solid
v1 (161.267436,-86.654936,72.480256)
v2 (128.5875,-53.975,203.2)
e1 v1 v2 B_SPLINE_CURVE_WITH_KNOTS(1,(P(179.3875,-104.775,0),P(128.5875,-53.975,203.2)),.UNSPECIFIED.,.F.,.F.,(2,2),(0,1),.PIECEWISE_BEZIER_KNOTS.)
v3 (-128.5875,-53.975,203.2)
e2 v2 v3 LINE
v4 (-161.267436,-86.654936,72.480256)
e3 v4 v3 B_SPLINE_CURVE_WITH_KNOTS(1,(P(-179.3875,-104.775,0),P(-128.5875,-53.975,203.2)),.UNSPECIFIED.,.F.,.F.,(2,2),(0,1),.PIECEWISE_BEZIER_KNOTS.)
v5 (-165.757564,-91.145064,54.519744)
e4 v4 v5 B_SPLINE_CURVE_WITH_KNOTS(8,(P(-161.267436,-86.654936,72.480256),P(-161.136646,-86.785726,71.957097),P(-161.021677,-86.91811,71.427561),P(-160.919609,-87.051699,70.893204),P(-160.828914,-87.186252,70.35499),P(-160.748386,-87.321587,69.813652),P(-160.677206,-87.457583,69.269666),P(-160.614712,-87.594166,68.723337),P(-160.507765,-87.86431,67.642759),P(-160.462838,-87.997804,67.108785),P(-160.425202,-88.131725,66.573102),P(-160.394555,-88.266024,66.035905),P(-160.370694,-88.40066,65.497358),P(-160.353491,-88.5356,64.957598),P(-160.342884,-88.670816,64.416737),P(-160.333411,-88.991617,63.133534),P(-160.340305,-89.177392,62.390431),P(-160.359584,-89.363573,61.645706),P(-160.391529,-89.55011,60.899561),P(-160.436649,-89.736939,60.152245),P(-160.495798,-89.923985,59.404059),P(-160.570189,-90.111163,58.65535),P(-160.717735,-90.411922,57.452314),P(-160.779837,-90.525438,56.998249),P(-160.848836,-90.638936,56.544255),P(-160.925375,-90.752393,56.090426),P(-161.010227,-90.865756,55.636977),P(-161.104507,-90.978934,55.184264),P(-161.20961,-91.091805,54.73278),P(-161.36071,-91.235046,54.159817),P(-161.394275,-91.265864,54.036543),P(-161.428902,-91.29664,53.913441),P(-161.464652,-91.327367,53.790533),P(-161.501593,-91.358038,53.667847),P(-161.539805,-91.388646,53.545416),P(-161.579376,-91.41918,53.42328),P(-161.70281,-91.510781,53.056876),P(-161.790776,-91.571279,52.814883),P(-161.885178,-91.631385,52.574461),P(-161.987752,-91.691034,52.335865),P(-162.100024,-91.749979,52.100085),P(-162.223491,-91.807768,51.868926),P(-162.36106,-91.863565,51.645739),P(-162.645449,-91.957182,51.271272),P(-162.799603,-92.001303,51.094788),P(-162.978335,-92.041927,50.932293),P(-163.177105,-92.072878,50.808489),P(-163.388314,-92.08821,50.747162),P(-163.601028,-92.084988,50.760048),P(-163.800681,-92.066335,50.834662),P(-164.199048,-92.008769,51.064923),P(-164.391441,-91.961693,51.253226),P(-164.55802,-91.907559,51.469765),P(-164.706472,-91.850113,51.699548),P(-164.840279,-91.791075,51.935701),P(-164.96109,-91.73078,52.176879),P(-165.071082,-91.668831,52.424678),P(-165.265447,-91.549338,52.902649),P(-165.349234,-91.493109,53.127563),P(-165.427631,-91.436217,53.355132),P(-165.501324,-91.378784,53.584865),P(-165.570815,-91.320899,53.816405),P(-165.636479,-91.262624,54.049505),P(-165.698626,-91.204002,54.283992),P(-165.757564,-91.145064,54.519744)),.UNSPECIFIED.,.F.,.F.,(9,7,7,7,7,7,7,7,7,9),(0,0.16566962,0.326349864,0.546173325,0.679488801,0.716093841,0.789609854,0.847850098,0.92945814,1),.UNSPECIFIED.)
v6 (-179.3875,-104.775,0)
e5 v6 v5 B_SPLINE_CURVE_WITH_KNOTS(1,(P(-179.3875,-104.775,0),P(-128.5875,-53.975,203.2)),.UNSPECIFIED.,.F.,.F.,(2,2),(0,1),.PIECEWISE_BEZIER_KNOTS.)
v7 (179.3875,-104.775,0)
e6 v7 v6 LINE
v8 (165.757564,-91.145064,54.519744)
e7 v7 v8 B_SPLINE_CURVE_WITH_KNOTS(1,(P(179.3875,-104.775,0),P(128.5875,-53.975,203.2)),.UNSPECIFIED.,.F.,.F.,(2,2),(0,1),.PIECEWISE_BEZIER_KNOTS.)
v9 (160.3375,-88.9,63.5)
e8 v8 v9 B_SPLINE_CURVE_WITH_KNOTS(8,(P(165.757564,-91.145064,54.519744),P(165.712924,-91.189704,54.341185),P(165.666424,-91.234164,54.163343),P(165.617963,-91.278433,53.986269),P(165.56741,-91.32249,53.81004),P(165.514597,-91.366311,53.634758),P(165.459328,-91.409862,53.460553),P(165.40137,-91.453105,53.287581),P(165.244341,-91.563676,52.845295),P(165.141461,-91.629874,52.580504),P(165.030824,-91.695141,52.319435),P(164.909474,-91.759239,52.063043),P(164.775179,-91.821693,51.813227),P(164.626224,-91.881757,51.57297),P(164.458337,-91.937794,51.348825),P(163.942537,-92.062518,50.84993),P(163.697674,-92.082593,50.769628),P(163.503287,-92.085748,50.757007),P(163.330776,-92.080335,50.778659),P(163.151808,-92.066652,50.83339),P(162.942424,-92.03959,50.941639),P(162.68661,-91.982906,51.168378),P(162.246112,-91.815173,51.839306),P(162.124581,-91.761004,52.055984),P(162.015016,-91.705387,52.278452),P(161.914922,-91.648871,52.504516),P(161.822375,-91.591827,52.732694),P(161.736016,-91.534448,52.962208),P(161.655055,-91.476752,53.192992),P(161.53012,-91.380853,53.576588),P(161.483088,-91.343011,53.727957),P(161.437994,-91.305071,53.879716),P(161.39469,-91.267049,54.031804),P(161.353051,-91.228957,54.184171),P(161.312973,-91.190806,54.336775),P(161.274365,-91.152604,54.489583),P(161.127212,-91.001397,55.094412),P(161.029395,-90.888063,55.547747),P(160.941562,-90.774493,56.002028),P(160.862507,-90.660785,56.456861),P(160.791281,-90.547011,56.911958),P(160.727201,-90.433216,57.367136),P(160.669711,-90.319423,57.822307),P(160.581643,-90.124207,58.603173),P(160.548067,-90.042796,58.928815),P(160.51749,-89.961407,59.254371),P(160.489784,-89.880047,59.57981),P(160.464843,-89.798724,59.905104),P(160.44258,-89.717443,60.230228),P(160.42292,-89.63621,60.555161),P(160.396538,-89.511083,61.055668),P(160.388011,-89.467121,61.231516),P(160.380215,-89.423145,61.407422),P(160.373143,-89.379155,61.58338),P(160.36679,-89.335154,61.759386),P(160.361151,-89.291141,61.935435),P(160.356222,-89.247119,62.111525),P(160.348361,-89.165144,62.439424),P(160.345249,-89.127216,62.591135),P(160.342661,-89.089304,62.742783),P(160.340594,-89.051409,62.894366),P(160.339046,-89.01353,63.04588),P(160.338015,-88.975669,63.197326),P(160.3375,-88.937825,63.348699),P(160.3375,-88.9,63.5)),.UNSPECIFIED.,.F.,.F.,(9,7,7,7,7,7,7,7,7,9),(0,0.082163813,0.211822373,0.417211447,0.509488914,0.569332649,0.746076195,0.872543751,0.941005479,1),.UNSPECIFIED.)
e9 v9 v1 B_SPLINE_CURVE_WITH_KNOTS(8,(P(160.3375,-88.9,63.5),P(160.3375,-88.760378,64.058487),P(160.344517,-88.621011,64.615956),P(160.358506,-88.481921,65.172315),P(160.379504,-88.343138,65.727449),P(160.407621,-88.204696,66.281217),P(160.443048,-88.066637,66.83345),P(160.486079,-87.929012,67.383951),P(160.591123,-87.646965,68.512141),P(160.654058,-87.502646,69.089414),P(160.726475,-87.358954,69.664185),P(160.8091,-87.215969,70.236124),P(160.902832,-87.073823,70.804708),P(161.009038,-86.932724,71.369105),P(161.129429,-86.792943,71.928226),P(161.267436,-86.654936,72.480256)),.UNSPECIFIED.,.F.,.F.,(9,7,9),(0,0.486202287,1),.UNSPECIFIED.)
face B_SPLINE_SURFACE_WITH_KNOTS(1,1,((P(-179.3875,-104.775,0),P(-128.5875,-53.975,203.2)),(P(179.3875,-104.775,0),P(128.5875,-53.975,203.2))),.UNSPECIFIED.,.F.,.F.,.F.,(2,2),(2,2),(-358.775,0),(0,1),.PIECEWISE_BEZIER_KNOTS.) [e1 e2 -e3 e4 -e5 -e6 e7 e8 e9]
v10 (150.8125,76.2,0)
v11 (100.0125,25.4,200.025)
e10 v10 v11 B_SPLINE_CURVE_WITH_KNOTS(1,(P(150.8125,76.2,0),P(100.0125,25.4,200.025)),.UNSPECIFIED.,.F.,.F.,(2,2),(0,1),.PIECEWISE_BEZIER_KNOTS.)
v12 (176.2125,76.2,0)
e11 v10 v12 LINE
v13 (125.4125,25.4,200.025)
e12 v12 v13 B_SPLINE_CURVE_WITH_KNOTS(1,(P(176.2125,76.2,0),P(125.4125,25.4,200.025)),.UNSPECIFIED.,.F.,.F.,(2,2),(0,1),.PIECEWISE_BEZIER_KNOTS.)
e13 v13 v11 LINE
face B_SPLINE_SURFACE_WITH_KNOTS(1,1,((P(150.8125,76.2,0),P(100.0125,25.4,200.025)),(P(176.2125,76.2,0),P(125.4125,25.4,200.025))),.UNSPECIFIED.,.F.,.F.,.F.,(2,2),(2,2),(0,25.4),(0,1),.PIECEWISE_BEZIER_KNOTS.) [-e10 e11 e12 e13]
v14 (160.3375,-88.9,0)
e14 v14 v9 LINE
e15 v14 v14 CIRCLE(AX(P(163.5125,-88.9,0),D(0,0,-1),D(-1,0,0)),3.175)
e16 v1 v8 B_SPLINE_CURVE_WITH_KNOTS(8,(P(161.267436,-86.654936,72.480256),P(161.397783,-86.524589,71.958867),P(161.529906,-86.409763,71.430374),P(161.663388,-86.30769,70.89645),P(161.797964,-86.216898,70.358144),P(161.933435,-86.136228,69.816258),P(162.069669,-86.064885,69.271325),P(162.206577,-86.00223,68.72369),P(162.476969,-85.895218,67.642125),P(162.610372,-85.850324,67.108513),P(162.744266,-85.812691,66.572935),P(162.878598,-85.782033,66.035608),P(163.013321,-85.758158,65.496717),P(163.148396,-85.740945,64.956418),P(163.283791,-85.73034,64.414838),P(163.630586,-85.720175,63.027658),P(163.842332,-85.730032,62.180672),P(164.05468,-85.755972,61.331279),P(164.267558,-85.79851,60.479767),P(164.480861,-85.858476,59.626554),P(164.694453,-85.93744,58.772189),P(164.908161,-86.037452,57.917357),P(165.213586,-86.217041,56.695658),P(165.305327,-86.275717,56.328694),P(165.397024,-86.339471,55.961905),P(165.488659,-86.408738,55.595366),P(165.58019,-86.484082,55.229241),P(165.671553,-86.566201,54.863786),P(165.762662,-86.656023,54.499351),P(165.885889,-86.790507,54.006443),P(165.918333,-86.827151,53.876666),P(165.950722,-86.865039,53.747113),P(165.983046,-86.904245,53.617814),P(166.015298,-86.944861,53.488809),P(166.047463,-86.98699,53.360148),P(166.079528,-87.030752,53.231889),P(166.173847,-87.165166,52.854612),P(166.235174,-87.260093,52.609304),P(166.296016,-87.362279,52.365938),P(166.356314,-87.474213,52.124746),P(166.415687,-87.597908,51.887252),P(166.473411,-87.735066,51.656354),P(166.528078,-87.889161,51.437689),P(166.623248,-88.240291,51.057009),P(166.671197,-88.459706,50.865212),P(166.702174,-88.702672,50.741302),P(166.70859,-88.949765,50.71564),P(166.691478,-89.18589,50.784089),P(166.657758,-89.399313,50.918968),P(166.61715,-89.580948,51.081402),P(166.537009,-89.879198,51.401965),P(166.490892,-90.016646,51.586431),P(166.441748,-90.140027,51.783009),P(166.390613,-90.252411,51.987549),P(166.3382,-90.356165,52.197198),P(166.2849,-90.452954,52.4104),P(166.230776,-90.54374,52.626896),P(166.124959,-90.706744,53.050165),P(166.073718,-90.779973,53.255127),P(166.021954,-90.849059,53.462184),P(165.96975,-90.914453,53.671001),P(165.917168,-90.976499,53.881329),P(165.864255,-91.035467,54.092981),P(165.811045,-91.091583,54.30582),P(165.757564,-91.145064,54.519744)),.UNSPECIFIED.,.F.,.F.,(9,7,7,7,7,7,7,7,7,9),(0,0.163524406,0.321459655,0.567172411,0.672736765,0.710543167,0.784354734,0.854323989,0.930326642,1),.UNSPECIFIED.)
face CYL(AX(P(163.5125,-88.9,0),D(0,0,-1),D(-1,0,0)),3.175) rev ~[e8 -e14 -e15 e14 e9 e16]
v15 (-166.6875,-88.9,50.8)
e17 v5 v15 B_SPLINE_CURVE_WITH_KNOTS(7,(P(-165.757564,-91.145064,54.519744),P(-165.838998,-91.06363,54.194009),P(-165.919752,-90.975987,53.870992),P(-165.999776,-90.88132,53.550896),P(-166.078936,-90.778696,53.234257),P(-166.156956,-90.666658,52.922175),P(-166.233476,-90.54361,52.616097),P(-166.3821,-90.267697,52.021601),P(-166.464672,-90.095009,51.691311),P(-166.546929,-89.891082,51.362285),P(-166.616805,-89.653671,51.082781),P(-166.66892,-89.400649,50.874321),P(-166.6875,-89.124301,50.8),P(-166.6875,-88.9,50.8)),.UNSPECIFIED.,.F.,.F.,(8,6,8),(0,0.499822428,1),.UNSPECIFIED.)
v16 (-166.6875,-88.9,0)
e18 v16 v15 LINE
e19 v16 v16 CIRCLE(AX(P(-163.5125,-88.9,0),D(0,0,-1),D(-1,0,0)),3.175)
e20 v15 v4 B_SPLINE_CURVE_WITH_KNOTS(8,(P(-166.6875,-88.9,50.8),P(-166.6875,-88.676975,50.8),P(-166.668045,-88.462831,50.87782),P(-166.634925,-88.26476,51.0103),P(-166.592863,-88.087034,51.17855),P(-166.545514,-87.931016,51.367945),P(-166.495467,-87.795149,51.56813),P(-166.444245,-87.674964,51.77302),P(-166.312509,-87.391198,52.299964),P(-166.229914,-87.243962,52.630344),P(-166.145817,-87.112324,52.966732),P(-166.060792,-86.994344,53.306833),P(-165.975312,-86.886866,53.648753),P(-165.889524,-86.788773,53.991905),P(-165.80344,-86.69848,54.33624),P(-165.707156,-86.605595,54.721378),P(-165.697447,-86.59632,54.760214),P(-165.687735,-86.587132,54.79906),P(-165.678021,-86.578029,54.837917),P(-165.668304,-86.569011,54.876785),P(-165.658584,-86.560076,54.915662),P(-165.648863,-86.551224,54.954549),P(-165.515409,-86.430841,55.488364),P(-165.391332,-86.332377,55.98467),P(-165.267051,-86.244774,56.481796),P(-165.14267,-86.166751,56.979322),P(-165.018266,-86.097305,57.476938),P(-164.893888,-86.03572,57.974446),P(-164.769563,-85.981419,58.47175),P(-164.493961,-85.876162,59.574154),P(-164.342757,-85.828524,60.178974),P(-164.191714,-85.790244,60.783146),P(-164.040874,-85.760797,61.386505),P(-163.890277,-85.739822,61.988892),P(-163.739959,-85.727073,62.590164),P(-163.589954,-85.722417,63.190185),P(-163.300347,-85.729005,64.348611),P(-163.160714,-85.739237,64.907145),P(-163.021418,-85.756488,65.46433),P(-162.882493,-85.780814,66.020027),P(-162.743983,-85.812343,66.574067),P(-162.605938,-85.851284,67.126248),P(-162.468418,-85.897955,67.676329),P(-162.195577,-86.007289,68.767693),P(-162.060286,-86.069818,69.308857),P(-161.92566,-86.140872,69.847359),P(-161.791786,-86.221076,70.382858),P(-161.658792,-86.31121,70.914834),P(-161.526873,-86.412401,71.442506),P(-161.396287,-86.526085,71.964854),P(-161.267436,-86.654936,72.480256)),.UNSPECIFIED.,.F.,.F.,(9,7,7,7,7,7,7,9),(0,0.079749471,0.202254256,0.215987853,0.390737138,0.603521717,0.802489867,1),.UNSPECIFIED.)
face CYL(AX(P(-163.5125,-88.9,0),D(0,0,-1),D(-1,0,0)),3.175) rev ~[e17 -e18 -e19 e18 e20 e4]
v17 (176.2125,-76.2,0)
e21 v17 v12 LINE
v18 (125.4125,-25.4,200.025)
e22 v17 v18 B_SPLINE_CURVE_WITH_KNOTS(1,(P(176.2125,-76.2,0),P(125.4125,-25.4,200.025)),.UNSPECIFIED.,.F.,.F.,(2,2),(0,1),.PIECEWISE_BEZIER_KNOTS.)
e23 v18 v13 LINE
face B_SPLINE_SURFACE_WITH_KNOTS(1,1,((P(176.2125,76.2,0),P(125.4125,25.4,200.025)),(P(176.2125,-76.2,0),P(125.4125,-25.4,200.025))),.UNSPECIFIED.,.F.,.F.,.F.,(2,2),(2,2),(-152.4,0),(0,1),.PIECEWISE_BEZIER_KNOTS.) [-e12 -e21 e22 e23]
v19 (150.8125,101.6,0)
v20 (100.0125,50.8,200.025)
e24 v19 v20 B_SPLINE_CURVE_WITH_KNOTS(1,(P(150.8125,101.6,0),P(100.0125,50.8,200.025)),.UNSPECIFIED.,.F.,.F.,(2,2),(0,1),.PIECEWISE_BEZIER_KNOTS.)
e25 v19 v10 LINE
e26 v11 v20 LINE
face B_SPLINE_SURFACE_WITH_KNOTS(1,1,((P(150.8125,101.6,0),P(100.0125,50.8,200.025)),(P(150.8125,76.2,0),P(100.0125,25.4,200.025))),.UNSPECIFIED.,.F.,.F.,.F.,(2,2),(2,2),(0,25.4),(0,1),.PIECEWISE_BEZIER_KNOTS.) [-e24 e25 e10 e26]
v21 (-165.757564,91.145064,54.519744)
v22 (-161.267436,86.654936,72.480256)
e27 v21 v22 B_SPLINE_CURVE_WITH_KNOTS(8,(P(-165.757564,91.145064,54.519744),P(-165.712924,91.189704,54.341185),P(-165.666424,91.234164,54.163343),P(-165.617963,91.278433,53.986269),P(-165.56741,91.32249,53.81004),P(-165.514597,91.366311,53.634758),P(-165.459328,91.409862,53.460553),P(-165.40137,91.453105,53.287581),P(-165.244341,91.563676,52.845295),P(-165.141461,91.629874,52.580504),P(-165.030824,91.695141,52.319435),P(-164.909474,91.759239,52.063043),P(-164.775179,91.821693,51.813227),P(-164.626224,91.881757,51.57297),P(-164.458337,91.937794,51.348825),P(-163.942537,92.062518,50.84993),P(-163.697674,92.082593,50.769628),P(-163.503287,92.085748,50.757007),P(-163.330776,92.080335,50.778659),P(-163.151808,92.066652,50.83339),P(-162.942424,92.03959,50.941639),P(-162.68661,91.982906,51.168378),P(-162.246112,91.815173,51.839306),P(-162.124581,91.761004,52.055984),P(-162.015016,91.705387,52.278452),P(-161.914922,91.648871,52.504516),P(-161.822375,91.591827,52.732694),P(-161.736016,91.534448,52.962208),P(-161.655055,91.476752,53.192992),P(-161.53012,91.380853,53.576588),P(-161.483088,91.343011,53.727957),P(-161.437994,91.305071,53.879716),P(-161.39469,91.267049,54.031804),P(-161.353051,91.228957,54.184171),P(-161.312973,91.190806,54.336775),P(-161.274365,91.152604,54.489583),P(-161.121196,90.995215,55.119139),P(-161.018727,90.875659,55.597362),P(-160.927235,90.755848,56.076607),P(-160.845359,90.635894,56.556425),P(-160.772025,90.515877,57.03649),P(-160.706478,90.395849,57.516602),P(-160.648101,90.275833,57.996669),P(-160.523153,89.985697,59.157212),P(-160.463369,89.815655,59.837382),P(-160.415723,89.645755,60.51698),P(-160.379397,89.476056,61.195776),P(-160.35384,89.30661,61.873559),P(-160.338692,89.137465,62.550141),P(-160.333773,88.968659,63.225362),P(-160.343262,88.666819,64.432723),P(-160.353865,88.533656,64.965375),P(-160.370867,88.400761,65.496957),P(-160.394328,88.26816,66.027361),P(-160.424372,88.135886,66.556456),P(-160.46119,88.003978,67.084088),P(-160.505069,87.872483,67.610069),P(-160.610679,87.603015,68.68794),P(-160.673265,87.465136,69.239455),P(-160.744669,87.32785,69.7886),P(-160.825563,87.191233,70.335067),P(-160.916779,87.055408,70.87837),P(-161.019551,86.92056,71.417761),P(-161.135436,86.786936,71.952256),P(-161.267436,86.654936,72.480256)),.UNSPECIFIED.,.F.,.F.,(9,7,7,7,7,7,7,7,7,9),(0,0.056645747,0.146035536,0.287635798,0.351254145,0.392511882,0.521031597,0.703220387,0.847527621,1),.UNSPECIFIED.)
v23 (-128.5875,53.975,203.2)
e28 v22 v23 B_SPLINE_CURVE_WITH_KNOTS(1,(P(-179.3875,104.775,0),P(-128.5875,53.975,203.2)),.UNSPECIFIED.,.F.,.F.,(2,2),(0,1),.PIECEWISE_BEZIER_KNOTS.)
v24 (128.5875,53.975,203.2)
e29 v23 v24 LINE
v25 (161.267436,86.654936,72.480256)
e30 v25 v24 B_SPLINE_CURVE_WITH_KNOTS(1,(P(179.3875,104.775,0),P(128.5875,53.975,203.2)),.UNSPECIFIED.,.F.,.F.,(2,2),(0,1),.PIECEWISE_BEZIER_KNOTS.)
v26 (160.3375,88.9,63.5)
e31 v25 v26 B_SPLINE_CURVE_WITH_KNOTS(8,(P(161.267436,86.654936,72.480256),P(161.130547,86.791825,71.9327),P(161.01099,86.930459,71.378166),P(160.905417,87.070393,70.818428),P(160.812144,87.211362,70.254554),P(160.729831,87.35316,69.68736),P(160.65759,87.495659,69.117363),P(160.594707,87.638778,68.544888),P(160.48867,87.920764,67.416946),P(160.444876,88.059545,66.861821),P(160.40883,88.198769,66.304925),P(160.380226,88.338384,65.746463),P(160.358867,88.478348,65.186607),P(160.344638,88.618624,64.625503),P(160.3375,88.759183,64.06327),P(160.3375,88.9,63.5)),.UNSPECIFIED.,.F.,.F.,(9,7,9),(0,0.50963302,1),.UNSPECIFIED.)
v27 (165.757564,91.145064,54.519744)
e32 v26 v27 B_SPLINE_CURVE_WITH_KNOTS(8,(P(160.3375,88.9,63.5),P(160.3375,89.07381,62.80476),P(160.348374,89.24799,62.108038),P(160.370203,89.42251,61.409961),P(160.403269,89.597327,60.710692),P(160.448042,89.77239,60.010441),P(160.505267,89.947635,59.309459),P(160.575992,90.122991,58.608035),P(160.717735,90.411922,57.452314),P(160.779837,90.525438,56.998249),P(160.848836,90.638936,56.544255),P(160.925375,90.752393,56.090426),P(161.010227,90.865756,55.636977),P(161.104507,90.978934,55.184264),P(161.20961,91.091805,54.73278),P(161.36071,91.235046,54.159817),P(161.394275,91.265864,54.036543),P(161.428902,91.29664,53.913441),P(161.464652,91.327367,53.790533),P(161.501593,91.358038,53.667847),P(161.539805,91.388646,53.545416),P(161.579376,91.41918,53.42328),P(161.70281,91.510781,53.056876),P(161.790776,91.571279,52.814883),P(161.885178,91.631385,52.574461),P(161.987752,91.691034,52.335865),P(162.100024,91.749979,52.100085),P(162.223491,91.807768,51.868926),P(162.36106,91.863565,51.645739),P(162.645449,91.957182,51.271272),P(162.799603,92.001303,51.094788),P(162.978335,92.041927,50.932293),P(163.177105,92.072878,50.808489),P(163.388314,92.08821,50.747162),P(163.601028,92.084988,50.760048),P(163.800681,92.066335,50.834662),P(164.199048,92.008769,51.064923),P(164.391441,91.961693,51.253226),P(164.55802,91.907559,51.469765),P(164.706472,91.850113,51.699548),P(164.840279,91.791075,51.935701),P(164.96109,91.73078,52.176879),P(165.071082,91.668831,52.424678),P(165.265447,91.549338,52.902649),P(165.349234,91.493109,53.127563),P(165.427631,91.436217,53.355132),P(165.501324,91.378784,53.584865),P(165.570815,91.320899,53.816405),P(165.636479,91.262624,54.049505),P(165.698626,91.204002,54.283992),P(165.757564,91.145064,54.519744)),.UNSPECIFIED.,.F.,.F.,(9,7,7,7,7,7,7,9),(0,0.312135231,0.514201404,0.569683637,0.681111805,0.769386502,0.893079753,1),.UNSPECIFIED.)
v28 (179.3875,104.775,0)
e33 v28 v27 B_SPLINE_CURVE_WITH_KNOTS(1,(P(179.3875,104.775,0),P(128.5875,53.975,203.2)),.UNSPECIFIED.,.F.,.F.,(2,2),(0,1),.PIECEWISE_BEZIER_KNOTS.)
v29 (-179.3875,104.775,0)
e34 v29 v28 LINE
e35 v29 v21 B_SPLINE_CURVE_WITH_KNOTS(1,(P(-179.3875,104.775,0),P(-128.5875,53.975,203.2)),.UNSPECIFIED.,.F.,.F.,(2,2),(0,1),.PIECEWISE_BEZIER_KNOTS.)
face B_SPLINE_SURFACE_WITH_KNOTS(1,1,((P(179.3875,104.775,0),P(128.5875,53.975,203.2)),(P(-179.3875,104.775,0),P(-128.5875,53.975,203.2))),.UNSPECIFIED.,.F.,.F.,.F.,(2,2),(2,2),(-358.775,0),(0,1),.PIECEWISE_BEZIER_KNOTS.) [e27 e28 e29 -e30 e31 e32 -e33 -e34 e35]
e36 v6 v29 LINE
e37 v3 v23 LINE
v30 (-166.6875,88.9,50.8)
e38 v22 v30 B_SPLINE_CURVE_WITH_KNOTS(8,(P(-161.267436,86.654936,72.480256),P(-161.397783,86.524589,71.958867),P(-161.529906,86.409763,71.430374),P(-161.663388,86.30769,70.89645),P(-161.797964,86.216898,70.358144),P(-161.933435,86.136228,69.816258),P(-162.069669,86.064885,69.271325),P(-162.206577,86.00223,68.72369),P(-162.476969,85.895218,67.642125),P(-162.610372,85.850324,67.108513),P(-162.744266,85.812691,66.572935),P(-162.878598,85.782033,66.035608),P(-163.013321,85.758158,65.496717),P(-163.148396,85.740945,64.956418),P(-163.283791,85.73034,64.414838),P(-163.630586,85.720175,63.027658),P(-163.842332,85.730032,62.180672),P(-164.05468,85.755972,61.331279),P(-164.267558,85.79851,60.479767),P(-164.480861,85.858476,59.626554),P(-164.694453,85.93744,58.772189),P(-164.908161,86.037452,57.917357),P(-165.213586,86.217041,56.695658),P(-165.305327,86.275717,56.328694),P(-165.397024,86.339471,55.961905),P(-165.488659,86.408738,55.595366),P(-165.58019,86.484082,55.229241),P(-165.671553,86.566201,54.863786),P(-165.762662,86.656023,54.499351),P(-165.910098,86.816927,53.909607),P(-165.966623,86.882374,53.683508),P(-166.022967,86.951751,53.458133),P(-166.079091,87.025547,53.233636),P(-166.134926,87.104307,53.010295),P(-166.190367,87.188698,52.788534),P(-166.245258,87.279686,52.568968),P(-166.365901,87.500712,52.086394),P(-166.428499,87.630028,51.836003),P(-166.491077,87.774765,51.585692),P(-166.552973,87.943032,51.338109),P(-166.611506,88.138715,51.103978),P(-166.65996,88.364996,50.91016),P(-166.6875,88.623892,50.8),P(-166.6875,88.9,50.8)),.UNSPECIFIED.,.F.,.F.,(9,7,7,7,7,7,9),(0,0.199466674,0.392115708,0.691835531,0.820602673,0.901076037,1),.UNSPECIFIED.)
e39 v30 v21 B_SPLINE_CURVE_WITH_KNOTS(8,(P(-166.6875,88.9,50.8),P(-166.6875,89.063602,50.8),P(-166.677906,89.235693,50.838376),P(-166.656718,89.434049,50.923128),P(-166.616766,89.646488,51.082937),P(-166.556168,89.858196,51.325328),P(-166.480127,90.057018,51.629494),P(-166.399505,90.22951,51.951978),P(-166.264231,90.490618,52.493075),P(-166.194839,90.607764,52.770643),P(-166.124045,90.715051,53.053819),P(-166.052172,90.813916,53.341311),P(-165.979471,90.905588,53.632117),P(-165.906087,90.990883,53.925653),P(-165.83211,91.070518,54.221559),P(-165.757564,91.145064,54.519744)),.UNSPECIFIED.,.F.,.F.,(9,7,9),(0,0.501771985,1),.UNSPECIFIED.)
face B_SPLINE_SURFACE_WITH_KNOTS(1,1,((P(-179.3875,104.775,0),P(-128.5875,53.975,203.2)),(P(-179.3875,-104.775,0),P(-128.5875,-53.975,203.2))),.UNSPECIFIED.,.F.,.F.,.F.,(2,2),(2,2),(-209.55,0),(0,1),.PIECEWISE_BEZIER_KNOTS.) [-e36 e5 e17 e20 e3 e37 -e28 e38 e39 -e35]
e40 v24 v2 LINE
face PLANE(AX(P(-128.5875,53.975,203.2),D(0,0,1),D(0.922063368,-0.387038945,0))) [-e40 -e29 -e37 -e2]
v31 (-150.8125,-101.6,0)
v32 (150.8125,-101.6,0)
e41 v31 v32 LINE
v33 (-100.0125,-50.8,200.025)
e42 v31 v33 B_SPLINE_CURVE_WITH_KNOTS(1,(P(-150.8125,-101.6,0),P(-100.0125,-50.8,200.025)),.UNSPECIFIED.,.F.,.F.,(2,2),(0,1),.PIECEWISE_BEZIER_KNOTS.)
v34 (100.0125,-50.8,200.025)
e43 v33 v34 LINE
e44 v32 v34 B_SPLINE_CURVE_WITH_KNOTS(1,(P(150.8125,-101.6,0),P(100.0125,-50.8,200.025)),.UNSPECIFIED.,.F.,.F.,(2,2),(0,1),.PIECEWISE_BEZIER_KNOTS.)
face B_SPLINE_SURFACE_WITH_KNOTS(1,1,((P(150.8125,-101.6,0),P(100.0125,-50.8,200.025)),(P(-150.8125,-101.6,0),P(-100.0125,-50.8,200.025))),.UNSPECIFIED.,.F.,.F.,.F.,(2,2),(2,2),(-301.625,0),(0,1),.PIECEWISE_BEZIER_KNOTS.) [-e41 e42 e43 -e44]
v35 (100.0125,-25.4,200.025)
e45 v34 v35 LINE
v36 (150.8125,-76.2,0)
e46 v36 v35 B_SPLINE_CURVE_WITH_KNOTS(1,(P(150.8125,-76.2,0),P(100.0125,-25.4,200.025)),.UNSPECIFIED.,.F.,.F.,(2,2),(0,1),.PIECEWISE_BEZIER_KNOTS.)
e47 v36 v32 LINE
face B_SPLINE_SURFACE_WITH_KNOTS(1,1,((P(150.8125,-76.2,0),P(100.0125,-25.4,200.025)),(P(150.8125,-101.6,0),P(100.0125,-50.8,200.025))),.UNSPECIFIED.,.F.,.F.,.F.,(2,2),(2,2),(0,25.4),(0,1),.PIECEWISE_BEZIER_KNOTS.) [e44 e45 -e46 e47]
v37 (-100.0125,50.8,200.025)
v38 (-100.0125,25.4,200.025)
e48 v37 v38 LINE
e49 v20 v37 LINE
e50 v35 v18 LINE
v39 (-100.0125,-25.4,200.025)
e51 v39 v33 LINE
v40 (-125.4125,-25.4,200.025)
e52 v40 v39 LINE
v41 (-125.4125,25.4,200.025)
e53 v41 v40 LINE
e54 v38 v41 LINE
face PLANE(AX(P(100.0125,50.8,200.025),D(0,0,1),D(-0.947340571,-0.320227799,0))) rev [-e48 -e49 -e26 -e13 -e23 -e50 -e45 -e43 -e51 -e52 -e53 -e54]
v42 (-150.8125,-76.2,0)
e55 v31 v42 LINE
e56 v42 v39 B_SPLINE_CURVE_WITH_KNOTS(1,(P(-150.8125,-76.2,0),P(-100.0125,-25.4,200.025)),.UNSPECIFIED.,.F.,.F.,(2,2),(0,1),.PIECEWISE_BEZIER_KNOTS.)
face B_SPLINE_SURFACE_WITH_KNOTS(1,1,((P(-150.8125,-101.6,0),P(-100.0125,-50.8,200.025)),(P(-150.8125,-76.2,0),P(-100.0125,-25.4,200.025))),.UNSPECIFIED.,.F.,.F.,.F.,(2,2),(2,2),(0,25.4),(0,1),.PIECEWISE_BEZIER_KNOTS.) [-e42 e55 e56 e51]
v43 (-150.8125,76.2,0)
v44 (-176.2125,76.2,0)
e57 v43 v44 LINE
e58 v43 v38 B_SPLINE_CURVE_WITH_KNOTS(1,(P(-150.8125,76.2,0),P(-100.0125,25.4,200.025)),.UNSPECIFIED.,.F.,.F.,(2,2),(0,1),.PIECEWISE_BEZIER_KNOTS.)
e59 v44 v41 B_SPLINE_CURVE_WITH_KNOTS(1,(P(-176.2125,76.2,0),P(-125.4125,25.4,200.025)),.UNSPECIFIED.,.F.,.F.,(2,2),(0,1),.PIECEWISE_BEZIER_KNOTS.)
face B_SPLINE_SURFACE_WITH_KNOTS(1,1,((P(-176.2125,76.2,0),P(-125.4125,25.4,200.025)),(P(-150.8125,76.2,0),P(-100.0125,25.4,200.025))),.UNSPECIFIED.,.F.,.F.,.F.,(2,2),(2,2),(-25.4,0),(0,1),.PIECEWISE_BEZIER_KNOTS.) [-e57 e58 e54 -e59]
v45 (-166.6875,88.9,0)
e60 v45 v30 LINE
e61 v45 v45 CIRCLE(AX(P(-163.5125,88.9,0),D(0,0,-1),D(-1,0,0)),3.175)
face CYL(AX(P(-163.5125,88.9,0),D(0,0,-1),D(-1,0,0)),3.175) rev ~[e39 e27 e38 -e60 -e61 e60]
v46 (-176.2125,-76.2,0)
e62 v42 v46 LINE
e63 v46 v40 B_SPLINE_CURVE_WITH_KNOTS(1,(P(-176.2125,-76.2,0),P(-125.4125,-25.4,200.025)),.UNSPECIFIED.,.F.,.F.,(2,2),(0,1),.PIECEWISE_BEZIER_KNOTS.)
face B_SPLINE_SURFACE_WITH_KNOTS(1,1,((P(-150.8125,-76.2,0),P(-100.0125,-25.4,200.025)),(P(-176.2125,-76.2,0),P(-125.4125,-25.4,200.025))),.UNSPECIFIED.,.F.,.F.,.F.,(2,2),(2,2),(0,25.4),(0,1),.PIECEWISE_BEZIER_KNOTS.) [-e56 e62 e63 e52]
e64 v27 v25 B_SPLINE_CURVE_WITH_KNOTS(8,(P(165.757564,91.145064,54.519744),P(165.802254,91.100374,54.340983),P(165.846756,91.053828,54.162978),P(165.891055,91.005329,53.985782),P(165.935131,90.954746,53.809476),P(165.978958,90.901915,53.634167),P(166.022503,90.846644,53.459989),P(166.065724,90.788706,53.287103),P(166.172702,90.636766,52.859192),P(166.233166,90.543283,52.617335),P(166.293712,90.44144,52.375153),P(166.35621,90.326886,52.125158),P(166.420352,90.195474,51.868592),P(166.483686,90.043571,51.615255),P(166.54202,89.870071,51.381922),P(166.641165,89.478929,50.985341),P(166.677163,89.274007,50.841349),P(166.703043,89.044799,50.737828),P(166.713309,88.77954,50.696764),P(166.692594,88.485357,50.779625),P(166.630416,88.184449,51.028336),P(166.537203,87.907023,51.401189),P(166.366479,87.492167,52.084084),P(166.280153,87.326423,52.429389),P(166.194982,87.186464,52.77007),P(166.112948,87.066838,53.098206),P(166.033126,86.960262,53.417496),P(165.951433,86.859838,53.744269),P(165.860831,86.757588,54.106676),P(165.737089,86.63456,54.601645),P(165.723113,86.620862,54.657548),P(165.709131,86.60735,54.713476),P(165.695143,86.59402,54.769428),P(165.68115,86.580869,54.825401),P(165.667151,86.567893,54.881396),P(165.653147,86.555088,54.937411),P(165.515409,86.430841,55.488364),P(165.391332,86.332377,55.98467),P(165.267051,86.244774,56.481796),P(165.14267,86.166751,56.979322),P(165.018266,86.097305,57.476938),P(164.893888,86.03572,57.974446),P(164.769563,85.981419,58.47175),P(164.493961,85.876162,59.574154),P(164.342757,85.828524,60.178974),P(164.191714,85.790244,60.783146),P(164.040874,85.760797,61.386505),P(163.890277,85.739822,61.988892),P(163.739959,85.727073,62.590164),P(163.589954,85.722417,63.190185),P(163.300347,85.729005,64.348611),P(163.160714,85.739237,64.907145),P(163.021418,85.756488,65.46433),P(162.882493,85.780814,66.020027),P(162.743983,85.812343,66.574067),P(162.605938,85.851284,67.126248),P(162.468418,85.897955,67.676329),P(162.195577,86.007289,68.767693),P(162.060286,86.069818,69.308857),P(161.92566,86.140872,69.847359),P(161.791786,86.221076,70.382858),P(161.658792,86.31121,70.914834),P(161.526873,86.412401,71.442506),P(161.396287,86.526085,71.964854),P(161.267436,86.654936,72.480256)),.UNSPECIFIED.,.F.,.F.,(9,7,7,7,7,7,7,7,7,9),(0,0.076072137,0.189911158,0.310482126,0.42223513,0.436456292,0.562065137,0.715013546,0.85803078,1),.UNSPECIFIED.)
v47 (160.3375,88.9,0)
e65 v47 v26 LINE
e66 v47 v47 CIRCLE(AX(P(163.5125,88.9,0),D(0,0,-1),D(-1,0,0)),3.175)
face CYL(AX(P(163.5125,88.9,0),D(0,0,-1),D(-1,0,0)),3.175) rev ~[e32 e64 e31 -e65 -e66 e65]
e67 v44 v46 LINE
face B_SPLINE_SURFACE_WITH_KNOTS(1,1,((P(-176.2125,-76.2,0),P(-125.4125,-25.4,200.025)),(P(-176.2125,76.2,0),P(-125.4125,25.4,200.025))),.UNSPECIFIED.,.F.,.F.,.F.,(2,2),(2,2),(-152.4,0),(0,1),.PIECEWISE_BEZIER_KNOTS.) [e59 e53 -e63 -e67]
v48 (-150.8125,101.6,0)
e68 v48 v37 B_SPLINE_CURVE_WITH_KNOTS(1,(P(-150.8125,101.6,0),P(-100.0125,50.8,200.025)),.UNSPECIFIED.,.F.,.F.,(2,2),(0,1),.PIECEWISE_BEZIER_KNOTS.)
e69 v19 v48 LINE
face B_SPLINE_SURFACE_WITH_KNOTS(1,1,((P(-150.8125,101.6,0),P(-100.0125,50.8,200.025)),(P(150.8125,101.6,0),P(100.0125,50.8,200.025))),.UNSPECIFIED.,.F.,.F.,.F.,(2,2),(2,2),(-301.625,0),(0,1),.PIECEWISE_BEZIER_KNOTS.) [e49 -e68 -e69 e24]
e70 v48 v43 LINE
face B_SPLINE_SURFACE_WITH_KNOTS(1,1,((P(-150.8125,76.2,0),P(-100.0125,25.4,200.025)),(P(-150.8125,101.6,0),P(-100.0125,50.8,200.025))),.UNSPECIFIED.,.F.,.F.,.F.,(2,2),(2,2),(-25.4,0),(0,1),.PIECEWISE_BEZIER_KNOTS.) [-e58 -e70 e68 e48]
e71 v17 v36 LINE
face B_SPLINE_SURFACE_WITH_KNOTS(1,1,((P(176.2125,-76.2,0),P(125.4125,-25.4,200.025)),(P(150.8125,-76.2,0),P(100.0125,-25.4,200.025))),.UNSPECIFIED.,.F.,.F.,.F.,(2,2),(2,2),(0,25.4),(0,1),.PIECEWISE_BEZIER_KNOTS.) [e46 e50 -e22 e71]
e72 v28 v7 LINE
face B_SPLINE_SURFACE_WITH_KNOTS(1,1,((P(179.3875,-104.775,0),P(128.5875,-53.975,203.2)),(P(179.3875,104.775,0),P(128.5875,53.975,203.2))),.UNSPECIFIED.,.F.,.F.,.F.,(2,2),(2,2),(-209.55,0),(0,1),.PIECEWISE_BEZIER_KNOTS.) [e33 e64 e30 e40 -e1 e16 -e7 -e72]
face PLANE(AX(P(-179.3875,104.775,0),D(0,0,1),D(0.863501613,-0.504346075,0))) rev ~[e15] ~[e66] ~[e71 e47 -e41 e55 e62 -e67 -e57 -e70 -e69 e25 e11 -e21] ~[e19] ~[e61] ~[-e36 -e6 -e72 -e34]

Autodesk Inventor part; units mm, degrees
ref_plane "YZ Plane" through (0, 0, 0) normal (1, 0, 0) x (0, 1, 0)
sketch "Sketch1" plane through (0, 0, 0) normal (0, 0, 1) x (1, 0, 0)
  line L0 (-251.1425, 0) -> (251.1425, 0) construction
  line L1 (0, -146.685) -> (0, 146.685) construction
  line L2 (-179.3875, 104.775) -> (179.3875, 104.775)
  line L3 (179.3875, 104.775) -> (179.3875, -104.775)
  line L4 (179.3875, -104.775) -> (-179.3875, -104.775)
  line L5 (-179.3875, -104.775) -> (-179.3875, 104.775)
  point P0 (0, 0)
  point P1 (0, 104.775)
  point P2 (-179.3875, 0)
  dimension "d0" = 358.775
  dimension "d1" = 209.55
ref_plane "Work Plane1" through (0, 0, 203.2) normal (0, 0, 1) x (1, 0, 0)
sketch "Sketch2" plane through (0, 0, 203.2) normal (0, 0, 1) x (1, 0, 0)
  line L0 (0, -146.685) -> (0, 146.685) construction
  line L1 (-253.365, 0) -> (253.365, 0) construction
  line L2 (-128.5875, 53.975) -> (128.5875, 53.975)
  line L3 (128.5875, 53.975) -> (128.5875, -53.975)
  line L4 (128.5875, -53.975) -> (-128.5875, -53.975)
  line L5 (-128.5875, -53.975) -> (-128.5875, 53.975)
  line L6 (-179.3875, 104.775) -> (179.3875, 104.775) construction
  line L7 (-179.3875, -104.775) -> (-179.3875, 104.775) construction
  point P0 (0, 0)
  point P1 (0, 53.975)
  point P2 (-128.5875, 0)
  dimension "d3" = 50.8
  dimension "d4" = 50.8
loft "Loft1" add profiles "Sketch1", "Sketch2"
sketch "Sketch3" plane through (179.3875, 104.775, 0) normal (0, 0, -1) x (-1, 0, 0)
  line L0 (179.3875, -251.46) -> (179.3875, 41.91) construction
  line L1 (430.53, -104.775) -> (-71.755, -104.775) construction
  line L2 (3.175, -3.175) -> (28.575, -3.175) construction
  line L3 (355.6, -3.175) -> (355.6, -28.575) construction
  line L4 (355.6, -206.375) -> (330.2, -206.375) construction
  line L5 (3.175, -206.375) -> (3.175, -180.975) construction
  line L6 (28.575, -3.175) -> (28.575, -28.575)
  line L7 (28.575, -28.575) -> (3.175, -28.575)
  line L8 (3.175, -180.975) -> (28.575, -180.975)
  line L9 (28.575, -180.975) -> (28.575, -206.375)
  line L10 (330.2, -3.175) -> (330.2, -28.575)
  line L11 (330.2, -28.575) -> (355.6, -28.575)
  line L12 (330.2, -206.375) -> (330.2, -180.975)
  line L13 (330.2, -180.975) -> (355.6, -180.975)
  line L14 (3.175, -28.575) -> (3.175, -3.175) construction
  line L15 (28.575, -3.175) -> (330.2, -3.175)
  line L16 (330.2, -3.175) -> (355.6, -3.175) construction
  line L17 (355.6, -28.575) -> (355.6, -180.975)
  line L18 (355.6, -180.975) -> (355.6, -206.375) construction
  line L19 (330.2, -206.375) -> (28.575, -206.375)
  line L20 (28.575, -206.375) -> (3.175, -206.375) construction
  line L21 (3.175, -180.975) -> (3.175, -28.575)
  line L22 (0, 0) -> (0, -209.55) construction
  line L23 (358.775, 0) -> (0, 0) construction
  point P0 (179.3875, -104.775)
  point P1 (179.3875, -3.175)
  point P2 (3.175, -104.775)
  dimension "d9" = 3.175
  dimension "d10" = 3.175
  dimension "d11" = 25.4
ref_plane "Work Plane2" through (0, 0, 200.025) normal (0, 0, 1) x (1, 0, 0)
sketch "Sketch5" plane through (0, 0, 200.025) normal (0, 0, 1) x (1, 0, 0)
  line L0 (150.8125, 101.6) -> (150.8125, 76.2) projected
  line L1 (150.8125, 76.2) -> (176.2125, 76.2) projected
  line L2 (176.2125, -76.2) -> (176.2125, 76.2) projected
  line L3 (176.2125, -76.2) -> (150.8125, -76.2) projected
  line L4 (150.8125, -76.2) -> (150.8125, -101.6) projected
  line L5 (-150.8125, -101.6) -> (150.8125, -101.6) projected
  line L6 (-150.8125, -101.6) -> (-150.8125, -76.2) projected
  line L7 (-150.8125, -76.2) -> (-176.2125, -76.2) projected
  line L8 (-176.2125, 76.2) -> (-176.2125, -76.2) projected
  line L9 (-150.8125, 76.2) -> (-176.2125, 76.2) projected
  line L10 (-150.8125, 101.6) -> (-150.8125, 76.2) projected
  line L11 (150.8125, 101.6) -> (-150.8125, 101.6) projected
  line L12 (-100.0125, 50.8) -> (-100.0125, 25.4)
  line L13 (-100.0125, 25.4) -> (-125.4125, 25.4)
  line L14 (-125.4125, 25.4) -> (-125.4125, -25.4)
  line L15 (-125.4125, -25.4) -> (-100.0125, -25.4)
  line L16 (-100.0125, -25.4) -> (-100.0125, -50.8)
  line L17 (-100.0125, -50.8) -> (100.0125, -50.8)
  line L18 (100.0125, -50.8) -> (100.0125, -25.4)
  line L19 (100.0125, -25.4) -> (125.4125, -25.4)
  line L20 (125.4125, -25.4) -> (125.4125, 25.4)
  line L21 (125.4125, 25.4) -> (100.0125, 25.4)
  line L22 (100.0125, 25.4) -> (100.0125, 50.8)
  line L23 (100.0125, 50.8) -> (-100.0125, 50.8)
  line L24 (-128.5875, 53.975) -> (128.5875, 53.975) projected
  point P0 (0, 0)
  dimension "d15" = 3.175
loft "Loft2" cut profiles "Sketch3", "Sketch5" contours all / L23 L22 L21 L20 L19 L18 L17 L16 L15 L14 L13 L12
sketch "Sketch6" plane through (179.3875, 104.775, 0) normal (0, 0, -1) x (-1, 0, 0)
  line L0 (430.53, -104.775) -> (-71.755, -104.775) construction
  line L1 (179.3875, -251.46) -> (179.3875, 41.91) construction
  line L2 (15.875, -15.875) -> (342.9, -15.875) construction
  line L3 (342.9, -15.875) -> (342.9, -193.675) construction
  line L4 (342.9, -193.675) -> (15.875, -193.675) construction
  line L5 (15.875, -193.675) -> (15.875, -15.875) construction
  line L6 (3.175, -28.575) -> (28.575, -28.575) construction
  line L7 (28.575, -28.575) -> (28.575, -3.175) construction
  circle A0 centre (15.875, -15.875) radius 3.175
  circle A1 centre (342.9, -15.875) radius 3.175
  circle A2 centre (342.9, -193.675) radius 3.175
  circle A3 centre (15.875, -193.675) radius 3.175
  point P0 (179.3875, -104.775)
  point P1 (179.3875, -15.875)
  point P2 (15.875, -104.775)
  dimension "d20" = 12.7
  dimension "d21" = 12.7
  dimension "d22" = 6.35
extrude "Extrusion1" cut sketch "Sketch6" against normal through all
equation "\"d21\" = d20"
properties part number "Front Cover"
